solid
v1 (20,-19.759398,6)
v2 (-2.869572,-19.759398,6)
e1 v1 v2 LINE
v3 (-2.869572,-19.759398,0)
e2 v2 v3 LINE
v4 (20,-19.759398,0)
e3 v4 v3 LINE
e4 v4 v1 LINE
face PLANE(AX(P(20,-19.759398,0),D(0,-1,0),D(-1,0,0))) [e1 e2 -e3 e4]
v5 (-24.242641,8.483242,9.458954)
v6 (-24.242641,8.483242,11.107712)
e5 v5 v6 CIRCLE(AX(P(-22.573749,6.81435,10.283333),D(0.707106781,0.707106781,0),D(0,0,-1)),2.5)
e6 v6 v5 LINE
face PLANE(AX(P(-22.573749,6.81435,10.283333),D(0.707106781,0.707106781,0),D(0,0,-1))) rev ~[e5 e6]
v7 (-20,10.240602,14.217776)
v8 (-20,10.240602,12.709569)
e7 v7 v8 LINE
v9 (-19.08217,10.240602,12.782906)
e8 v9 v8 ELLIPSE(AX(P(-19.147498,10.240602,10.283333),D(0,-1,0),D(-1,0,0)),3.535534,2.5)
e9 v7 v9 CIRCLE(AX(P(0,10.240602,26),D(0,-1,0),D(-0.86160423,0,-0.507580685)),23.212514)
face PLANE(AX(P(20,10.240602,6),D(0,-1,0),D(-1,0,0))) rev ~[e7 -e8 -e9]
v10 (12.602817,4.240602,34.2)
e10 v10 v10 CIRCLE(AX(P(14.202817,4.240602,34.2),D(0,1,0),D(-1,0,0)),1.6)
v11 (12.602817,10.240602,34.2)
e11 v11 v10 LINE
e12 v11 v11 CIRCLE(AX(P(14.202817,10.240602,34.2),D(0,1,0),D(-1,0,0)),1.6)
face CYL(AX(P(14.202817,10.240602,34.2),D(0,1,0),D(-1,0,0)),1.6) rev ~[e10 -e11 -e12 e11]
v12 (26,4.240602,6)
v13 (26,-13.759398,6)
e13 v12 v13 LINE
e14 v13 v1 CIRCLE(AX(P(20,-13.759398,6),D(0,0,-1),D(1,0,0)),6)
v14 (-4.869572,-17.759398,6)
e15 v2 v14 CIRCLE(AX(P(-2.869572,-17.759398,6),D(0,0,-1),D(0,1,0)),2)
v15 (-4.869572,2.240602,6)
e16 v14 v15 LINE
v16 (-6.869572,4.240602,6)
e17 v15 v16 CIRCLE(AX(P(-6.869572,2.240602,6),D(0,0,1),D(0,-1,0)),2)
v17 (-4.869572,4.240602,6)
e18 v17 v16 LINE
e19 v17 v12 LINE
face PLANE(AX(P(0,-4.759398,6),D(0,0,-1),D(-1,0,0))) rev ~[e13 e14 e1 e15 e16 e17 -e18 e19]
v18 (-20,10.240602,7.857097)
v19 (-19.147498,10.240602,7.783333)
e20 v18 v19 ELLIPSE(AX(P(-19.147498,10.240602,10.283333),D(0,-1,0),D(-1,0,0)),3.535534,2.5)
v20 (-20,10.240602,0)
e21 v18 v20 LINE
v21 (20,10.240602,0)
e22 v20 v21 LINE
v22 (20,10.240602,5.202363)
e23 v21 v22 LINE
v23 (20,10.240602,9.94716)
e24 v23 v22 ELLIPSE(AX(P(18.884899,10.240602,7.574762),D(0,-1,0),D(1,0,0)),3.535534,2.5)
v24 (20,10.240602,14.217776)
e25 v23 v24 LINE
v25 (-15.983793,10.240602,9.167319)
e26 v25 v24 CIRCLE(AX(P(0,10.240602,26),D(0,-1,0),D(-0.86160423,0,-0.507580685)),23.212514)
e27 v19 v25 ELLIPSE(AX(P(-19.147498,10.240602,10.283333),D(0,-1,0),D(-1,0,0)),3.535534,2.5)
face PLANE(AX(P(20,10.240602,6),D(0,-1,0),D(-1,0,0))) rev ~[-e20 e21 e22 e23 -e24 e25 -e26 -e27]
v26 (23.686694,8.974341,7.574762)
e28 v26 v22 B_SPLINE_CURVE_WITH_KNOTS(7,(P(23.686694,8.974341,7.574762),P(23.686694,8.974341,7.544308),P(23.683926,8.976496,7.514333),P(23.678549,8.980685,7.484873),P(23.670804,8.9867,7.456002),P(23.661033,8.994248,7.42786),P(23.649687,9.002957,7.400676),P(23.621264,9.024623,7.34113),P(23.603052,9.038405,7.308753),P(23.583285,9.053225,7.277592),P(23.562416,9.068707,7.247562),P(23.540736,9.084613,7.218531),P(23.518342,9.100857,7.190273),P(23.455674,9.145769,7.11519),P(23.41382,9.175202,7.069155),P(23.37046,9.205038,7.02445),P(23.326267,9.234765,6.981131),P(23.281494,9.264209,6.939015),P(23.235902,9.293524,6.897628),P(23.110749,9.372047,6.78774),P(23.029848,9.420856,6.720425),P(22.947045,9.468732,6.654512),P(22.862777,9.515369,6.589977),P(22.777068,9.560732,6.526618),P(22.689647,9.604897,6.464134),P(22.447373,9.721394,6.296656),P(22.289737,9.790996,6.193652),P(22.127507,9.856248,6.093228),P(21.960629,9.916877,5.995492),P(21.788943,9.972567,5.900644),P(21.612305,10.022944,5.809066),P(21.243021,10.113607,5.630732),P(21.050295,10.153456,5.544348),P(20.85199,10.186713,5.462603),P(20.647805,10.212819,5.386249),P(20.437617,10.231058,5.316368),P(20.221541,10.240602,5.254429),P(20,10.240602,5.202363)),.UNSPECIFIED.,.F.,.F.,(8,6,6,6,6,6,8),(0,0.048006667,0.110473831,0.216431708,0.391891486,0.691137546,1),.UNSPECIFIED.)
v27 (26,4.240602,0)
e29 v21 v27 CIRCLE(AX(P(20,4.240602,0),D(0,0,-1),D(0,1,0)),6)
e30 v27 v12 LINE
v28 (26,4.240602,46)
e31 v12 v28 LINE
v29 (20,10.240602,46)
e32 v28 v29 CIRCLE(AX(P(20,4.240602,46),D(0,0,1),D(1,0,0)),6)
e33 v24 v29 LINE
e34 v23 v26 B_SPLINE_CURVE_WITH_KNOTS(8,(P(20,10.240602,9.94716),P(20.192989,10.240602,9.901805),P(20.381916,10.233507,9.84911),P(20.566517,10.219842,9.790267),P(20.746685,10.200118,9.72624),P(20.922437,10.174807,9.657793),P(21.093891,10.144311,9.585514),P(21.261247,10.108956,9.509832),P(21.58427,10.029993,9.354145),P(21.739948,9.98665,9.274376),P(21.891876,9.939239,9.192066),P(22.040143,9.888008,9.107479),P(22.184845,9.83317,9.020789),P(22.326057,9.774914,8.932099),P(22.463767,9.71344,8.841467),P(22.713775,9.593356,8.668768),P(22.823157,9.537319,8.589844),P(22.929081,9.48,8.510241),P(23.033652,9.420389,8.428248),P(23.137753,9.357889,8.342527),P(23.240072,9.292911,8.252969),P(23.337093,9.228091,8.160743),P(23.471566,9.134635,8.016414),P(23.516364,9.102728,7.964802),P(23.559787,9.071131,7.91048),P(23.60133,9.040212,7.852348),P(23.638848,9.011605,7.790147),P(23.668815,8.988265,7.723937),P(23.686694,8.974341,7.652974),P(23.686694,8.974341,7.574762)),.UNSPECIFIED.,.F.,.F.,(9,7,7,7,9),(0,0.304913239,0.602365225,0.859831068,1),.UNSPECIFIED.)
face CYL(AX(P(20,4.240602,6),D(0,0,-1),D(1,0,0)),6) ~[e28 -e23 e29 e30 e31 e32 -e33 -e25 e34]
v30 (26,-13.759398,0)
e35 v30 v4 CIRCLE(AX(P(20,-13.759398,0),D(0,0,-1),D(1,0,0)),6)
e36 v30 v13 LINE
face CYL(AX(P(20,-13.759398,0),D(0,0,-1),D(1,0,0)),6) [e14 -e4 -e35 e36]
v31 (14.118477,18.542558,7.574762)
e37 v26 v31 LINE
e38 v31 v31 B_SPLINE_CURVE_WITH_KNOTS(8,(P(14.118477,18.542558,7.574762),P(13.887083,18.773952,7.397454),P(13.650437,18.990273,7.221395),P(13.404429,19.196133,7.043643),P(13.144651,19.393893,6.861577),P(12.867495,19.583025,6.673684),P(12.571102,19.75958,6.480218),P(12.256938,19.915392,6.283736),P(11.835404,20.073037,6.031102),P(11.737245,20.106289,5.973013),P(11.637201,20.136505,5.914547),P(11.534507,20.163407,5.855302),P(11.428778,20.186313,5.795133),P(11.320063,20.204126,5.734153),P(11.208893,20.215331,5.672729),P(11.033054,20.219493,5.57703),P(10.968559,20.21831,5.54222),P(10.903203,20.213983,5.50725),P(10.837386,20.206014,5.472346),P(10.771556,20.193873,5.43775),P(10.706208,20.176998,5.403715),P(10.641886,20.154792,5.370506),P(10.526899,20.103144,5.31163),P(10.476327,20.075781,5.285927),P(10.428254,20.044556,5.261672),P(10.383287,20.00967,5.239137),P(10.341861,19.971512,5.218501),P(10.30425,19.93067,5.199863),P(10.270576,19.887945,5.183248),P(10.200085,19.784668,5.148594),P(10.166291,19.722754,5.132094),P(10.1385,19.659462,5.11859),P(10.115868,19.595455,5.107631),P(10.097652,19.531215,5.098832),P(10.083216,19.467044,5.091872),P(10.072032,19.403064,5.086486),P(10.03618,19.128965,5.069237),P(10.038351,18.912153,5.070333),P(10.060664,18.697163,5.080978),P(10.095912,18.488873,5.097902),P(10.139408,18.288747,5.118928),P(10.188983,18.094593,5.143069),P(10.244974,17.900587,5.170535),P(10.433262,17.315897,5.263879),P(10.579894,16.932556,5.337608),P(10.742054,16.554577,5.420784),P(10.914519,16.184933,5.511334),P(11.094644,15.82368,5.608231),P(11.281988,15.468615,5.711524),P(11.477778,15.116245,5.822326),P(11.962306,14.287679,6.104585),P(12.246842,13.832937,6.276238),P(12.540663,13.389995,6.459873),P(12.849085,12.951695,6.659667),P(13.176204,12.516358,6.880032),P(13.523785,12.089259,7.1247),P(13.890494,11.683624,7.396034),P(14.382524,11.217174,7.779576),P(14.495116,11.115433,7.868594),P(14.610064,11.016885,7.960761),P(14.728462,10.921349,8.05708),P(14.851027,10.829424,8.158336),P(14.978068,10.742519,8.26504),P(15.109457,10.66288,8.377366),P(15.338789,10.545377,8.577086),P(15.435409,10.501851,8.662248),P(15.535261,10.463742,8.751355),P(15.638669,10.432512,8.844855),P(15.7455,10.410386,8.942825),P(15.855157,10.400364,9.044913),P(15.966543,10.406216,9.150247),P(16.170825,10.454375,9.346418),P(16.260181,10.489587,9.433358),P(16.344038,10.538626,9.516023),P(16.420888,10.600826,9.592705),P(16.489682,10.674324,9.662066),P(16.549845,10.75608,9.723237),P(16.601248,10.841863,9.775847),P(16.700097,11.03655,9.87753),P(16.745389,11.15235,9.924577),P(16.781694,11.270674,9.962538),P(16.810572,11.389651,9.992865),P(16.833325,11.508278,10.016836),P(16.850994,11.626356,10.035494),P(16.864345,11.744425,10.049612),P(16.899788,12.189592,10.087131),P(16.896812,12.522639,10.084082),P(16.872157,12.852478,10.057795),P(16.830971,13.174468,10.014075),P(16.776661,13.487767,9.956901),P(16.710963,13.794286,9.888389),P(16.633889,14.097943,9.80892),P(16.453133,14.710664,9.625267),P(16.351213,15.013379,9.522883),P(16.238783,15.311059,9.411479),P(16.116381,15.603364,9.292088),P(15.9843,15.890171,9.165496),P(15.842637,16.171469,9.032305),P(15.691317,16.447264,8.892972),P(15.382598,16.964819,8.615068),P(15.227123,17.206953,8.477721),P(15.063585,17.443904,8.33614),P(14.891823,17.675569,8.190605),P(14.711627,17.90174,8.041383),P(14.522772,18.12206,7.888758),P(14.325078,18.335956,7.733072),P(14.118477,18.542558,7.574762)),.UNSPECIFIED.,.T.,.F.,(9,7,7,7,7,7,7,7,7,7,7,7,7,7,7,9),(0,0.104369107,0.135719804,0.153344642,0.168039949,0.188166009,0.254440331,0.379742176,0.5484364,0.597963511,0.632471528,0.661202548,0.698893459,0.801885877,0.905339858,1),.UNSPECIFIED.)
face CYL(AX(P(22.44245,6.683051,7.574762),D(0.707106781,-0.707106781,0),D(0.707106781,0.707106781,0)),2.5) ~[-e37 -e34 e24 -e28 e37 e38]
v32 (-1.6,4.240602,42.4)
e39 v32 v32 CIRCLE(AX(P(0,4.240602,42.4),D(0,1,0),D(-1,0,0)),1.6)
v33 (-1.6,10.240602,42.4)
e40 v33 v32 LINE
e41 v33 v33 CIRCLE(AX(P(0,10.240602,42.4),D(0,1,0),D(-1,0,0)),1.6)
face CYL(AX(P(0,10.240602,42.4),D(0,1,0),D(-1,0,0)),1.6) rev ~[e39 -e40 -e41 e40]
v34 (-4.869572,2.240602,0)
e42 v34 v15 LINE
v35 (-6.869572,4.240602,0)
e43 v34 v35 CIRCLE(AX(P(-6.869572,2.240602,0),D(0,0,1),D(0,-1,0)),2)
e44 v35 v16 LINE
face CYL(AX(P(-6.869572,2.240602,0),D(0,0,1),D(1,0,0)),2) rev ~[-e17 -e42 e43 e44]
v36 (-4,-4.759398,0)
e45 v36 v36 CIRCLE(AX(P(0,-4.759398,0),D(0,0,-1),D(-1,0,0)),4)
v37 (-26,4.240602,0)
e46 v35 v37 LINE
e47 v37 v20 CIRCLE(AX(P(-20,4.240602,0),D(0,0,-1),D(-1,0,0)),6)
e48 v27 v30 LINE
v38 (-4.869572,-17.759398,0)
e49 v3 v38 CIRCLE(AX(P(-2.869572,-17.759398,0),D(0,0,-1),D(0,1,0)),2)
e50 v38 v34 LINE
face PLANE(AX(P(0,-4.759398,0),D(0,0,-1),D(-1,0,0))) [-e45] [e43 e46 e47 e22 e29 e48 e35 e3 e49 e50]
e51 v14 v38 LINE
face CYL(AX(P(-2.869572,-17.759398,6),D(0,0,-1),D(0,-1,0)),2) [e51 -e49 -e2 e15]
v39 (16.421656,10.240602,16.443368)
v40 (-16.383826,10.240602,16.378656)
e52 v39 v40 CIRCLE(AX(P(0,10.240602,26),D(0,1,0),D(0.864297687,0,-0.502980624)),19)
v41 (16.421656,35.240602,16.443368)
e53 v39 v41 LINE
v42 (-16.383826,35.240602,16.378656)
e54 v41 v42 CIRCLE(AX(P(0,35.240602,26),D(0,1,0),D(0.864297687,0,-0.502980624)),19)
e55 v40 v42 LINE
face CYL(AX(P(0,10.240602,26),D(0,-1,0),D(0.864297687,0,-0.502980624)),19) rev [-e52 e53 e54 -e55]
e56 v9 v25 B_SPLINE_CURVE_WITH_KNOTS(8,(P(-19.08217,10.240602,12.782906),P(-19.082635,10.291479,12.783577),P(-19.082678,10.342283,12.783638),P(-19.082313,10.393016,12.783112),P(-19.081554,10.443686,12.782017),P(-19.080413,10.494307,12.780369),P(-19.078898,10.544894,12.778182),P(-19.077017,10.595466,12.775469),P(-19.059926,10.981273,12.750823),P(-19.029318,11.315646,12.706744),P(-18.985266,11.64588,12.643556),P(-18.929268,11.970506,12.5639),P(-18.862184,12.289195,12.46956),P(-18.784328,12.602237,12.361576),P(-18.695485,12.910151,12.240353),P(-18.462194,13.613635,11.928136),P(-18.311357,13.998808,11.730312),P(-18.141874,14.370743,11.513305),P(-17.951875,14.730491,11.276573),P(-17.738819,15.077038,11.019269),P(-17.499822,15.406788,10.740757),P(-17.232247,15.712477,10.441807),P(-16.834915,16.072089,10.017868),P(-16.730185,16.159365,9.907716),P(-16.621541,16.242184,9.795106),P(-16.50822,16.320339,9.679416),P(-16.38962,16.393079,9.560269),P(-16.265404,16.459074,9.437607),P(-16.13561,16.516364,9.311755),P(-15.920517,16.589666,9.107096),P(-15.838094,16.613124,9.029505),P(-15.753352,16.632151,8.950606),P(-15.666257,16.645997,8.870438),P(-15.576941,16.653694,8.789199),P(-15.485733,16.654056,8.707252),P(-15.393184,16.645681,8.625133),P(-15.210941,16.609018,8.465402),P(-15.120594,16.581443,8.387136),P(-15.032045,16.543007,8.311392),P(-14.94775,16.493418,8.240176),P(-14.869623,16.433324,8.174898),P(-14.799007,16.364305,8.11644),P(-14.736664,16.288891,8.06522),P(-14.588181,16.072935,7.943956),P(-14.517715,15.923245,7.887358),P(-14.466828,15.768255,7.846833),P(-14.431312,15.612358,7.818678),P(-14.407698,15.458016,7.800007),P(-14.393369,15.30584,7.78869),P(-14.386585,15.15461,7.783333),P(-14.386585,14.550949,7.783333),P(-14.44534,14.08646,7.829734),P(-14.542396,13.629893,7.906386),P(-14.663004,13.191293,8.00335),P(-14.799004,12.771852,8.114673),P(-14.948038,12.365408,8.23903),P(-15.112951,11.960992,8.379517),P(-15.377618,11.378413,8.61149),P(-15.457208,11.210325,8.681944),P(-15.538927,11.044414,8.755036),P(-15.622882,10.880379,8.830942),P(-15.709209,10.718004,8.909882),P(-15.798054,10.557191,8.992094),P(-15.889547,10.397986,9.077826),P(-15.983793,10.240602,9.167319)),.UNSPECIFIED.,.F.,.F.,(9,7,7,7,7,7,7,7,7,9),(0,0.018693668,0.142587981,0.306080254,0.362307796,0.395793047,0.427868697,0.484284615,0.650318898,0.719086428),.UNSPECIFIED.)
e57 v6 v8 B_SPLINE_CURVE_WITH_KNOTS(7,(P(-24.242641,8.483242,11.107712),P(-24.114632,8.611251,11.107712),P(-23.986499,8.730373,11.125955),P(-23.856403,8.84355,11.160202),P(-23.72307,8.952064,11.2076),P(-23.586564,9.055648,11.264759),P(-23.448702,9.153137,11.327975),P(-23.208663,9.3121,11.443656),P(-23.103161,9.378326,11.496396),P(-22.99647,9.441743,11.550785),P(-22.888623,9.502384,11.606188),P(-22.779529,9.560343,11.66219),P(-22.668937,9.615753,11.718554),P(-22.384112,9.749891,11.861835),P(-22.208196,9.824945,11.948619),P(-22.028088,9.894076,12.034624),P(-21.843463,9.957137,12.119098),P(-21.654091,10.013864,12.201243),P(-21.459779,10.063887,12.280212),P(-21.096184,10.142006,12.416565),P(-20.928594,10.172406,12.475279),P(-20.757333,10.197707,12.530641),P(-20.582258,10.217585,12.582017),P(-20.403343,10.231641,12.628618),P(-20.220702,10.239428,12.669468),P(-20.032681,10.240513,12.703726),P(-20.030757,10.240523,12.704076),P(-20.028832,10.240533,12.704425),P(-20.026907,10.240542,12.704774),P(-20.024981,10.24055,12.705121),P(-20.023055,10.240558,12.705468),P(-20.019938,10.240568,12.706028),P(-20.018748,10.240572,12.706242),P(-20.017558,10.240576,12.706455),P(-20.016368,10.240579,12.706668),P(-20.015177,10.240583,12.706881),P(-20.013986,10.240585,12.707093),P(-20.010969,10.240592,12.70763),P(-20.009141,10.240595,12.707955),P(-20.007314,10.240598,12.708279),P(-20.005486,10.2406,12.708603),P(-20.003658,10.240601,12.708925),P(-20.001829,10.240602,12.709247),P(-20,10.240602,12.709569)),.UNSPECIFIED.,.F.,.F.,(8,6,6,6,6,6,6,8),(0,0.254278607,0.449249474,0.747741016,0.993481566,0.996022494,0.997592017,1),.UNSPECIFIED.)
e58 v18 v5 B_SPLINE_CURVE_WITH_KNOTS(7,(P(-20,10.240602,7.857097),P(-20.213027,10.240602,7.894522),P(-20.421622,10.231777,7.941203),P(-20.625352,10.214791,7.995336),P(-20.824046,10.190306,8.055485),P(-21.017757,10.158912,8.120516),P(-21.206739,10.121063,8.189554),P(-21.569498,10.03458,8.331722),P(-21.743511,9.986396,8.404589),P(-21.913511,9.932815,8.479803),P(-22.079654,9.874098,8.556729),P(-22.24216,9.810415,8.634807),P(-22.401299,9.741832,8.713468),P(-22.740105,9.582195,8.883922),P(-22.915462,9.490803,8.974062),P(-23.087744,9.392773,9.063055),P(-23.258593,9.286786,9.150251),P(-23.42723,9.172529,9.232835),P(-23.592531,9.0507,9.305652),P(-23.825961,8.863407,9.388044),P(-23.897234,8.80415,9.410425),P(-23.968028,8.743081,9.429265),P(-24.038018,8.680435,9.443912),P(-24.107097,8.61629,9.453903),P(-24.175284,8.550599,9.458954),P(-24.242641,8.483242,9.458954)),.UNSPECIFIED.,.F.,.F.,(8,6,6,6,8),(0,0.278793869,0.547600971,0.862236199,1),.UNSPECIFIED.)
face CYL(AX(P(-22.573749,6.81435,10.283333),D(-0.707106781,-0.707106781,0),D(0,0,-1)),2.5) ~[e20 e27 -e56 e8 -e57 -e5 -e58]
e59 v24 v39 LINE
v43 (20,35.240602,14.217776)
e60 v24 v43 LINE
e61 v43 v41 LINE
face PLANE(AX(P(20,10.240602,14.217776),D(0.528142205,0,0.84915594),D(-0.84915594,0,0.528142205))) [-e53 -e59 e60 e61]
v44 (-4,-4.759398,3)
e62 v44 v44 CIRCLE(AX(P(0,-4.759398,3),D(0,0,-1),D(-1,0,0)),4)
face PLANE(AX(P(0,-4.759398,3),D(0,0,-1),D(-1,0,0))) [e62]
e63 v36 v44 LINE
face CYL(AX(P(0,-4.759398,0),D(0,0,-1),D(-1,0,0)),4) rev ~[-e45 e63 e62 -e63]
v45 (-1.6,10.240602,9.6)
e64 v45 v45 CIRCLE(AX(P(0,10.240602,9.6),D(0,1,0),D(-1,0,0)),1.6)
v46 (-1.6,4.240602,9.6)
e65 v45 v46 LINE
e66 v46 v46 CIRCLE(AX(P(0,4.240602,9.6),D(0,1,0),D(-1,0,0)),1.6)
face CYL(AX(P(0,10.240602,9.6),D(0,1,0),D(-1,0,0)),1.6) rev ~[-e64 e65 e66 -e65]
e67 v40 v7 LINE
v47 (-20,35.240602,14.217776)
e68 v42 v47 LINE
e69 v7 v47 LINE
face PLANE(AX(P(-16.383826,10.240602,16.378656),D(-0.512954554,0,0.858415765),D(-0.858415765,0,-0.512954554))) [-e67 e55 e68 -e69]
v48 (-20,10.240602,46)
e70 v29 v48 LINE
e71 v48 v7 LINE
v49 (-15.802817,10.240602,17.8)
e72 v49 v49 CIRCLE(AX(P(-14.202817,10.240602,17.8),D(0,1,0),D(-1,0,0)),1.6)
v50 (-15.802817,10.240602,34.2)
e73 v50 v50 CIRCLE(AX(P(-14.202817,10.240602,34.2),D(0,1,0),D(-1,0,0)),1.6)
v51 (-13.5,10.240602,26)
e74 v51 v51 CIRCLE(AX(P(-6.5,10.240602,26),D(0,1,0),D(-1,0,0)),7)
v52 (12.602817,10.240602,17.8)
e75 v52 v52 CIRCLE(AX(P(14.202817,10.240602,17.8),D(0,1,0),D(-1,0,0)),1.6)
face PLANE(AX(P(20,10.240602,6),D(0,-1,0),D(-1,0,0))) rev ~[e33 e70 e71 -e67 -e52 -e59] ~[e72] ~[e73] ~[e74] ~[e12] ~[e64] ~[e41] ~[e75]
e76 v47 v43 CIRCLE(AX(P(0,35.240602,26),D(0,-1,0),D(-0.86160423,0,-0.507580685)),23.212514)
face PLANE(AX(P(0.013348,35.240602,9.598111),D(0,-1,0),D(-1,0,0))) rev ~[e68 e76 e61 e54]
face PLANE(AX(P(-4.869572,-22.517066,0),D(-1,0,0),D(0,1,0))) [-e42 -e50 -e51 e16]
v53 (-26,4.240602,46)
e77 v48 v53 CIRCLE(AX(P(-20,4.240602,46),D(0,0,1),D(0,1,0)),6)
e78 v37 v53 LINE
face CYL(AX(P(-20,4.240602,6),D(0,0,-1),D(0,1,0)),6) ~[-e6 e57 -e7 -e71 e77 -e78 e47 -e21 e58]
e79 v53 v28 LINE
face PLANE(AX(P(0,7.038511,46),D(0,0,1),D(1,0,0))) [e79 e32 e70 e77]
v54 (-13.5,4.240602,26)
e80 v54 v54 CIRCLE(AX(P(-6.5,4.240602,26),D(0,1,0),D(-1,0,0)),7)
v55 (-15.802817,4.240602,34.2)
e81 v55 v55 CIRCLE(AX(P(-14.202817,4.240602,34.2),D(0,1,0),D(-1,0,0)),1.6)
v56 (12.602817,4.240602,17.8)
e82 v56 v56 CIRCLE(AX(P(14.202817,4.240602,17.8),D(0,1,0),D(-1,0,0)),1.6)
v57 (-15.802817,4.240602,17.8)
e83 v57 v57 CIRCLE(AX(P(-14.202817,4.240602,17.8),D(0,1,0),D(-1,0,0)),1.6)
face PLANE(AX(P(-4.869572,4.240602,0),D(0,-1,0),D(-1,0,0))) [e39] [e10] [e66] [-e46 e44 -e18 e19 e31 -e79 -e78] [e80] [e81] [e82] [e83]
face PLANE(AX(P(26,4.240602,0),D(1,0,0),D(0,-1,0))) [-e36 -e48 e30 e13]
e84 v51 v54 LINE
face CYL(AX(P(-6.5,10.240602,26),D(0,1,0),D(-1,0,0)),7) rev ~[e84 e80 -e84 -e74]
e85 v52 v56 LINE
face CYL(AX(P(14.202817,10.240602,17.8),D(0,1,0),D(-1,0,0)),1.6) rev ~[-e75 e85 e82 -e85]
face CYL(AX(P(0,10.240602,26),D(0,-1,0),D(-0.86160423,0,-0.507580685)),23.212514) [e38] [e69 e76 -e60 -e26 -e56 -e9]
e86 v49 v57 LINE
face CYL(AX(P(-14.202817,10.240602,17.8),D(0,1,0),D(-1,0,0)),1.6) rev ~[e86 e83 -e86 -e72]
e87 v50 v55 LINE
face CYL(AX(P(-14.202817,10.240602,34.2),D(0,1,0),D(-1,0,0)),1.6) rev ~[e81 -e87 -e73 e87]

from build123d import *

# Parameters (mm, degrees)
BOSS_EXTRUDE1_DEPTH      = 6
BOSS_EXTRUDE2_DEPTH      = 40
CUT_EXTRUDE1_REACH       = 62.762
SKETCH9_R                = 1.6
CUT_EXTRUDE2_REACH       = 62.762
SKETCH10_R               = 7
BOSS_EXTRUDE4_DEPTH      = 25
BOSS_EXTRUDE5_REACH      = 73.576
SKETCH12_R               = 2.5
BOSS_EXTRUDE6_REACH      = 73.576
BOSS_EXTRUDE6_END_RADIUS = 23.21251372
SKETCH14_R               = 2.5
SKETCH17_W               = 26.966711831
SKETCH17_H               = 26.757667553
CUT_EXTRUDE4_DEPTH       = 6
FILLET1_R                = 2
SKETCH7_R                = 4
CUT_EXTRUDE5_DEPTH       = 3


with BuildPart() as part:
    # Sketch3 → Boss-Extrude1 (new body)
    with BuildSketch(Plane.XY):
        with BuildLine():
            Line((-20, 10.240601504), (20, 10.240601504))
            ThreePointArc((20, 10.240601504), (24.242640687, 8.483242191), (26, 4.240601504))
            Line((26, 4.240601504), (26, -13.759398496))
            ThreePointArc((26, -13.759398496), (24.242640687, -18.002039183), (20, -19.759398496))
            Line((20, -19.759398496), (-20, -19.759398496))
            ThreePointArc((-20, -19.759398496), (-24.242640687, -18.002039183), (-26, -13.759398496))
            Line((-26, -13.759398496), (-26, 4.240601504))
            ThreePointArc((-26, 4.240601504), (-24.242640687, 8.483242191), (-20, 10.240601504))
        make_face()
    extrude(amount=BOSS_EXTRUDE1_DEPTH)

    # Sketch4 → Boss-Extrude2 (add)
    with BuildSketch(Plane.XY.offset(6)):
        with BuildLine():
            Line((-26, 4.240601504), (26, 4.240601504))
            ThreePointArc((26, 4.240601504), (24.242640687, 8.483242191), (20, 10.240601504))
            Line((20, 10.240601504), (-20, 10.240601504))
            ThreePointArc((-20, 10.240601504), (-24.242640687, 8.483242191), (-26, 4.240601504))
        make_face()
    extrude(amount=BOSS_EXTRUDE2_DEPTH)

    # Sketch9 → Cut-Extrude1 (cut, up to next)
    with BuildSketch(Plane(origin=(0, 10.240601504, 0), x_dir=(1, 0, 0), z_dir=(0, 1, 0)), mode=Mode.PRIVATE) as cut_extrude1_sk1:
        with Locations(Location((0, -42.4, 0), (0, 0, 180))):
            Circle(SKETCH9_R)
    cut_extrude1_tool1 = extrude(cut_extrude1_sk1.sketch, amount=-CUT_EXTRUDE1_REACH, mode=Mode.PRIVATE) & part.part
    # Sketch9 → Cut-Extrude1 (cut, up to next)
    with BuildSketch(Plane(origin=(0, 10.240601504, 0), x_dir=(1, 0, 0), z_dir=(0, 1, 0)), mode=Mode.PRIVATE) as cut_extrude1_sk2:
        with Locations(Location((14.202816622, -34.2, 0), (0, 0, 180))):
            Circle(SKETCH9_R)
    cut_extrude1_tool2 = extrude(cut_extrude1_sk2.sketch, amount=-CUT_EXTRUDE1_REACH, mode=Mode.PRIVATE) & part.part
    # Sketch9 → Cut-Extrude1 (cut, up to next)
    with BuildSketch(Plane(origin=(0, 10.240601504, 0), x_dir=(1, 0, 0), z_dir=(0, 1, 0)), mode=Mode.PRIVATE) as cut_extrude1_sk3:
        with Locations(Location((-14.202816622, -34.2, 0), (0, 0, 180))):
            Circle(SKETCH9_R)
    cut_extrude1_tool3 = extrude(cut_extrude1_sk3.sketch, amount=-CUT_EXTRUDE1_REACH, mode=Mode.PRIVATE) & part.part
    # Sketch9 → Cut-Extrude1 (cut, up to next)
    with BuildSketch(Plane(origin=(0, 10.240601504, 0), x_dir=(1, 0, 0), z_dir=(0, 1, 0)), mode=Mode.PRIVATE) as cut_extrude1_sk4:
        with Locations(Location((-14.202816622, -17.8, 0), (0, 0, 180))):
            Circle(SKETCH9_R)
    cut_extrude1_tool4 = extrude(cut_extrude1_sk4.sketch, amount=-CUT_EXTRUDE1_REACH, mode=Mode.PRIVATE) & part.part
    # Sketch9 → Cut-Extrude1 (cut, up to next)
    with BuildSketch(Plane(origin=(0, 10.240601504, 0), x_dir=(1, 0, 0), z_dir=(0, 1, 0)), mode=Mode.PRIVATE) as cut_extrude1_sk5:
        with Locations(Location((0, -9.6, 0), (0, 0, 180))):
            Circle(SKETCH9_R)
    cut_extrude1_tool5 = extrude(cut_extrude1_sk5.sketch, amount=-CUT_EXTRUDE1_REACH, mode=Mode.PRIVATE) & part.part
    # Sketch9 → Cut-Extrude1 (cut, up to next)
    with BuildSketch(Plane(origin=(0, 10.240601504, 0), x_dir=(1, 0, 0), z_dir=(0, 1, 0)), mode=Mode.PRIVATE) as cut_extrude1_sk6:
        with Locations(Location((14.202816622, -17.8, 0), (0, 0, 180))):
            Circle(SKETCH9_R)
    cut_extrude1_tool6 = extrude(cut_extrude1_sk6.sketch, amount=-CUT_EXTRUDE1_REACH, mode=Mode.PRIVATE) & part.part
    add(cut_extrude1_tool1.solids().sort_by_distance((0, 10.240602, 42.4))[0], mode=Mode.SUBTRACT)
    add(cut_extrude1_tool2.solids().sort_by_distance((14.202817, 10.240602, 34.2))[0], mode=Mode.SUBTRACT)
    add(cut_extrude1_tool3.solids().sort_by_distance((-14.202817, 10.240602, 34.2))[0], mode=Mode.SUBTRACT)
    add(cut_extrude1_tool4.solids().sort_by_distance((-14.202817, 10.240602, 17.8))[0], mode=Mode.SUBTRACT)
    add(cut_extrude1_tool5.solids().sort_by_distance((0, 10.240602, 9.6))[0], mode=Mode.SUBTRACT)
    add(cut_extrude1_tool6.solids().sort_by_distance((14.202817, 10.240602, 17.8))[0], mode=Mode.SUBTRACT)

    # Sketch10 → Cut-Extrude2 (cut, up to next)
    with BuildSketch(Plane(origin=(0, 10.240601504, 0), x_dir=(1, 0, 0), z_dir=(0, 1, 0)), mode=Mode.PRIVATE) as cut_extrude2_sk1:
        with Locations(Location((-6.5, -26, 0), (0, 0, 180))):
            Circle(SKETCH10_R)
    cut_extrude2_tool1 = extrude(cut_extrude2_sk1.sketch, amount=-CUT_EXTRUDE2_REACH, mode=Mode.PRIVATE) & part.part
    add(cut_extrude2_tool1.solids().sort_by_distance((-6.5, 10.240602, 26))[0], mode=Mode.SUBTRACT)

    # Sketch11 → Boss-Extrude4 (add)
    with BuildSketch(Plane(origin=(0, 10.240601504, 0), x_dir=(1, 0, 0), z_dir=(0, 1, 0))):
        with BuildLine():
            Line((20, -14.217776389), (16.421656056, -16.443368147))
            ThreePointArc((16.421656056, -16.443368147), (0.037479345, -7.000036966), (-16.383825563, -16.378656023))
            Line((-16.383825563, -16.378656023), (-20, -14.217776389))
            ThreePointArc((-20, -14.217776389), (0, -2.78748628), (20, -14.217776389))
        make_face()
    extrude(amount=BOSS_EXTRUDE4_DEPTH)

    # Sketch12 → Boss-Extrude5 (add, up to next)
    with BuildSketch(Plane(origin=(7.879699248, -7.879699248, 0), x_dir=(0, 0, 1), z_dir=(-0.7071067811865489, 0.7071067811865462, 0)), mode=Mode.PRIVATE) as boss_extrude5_sk1:
        with Locations(Location((7.574761701, 20.594839086, 0), (0, 0, 90))):
            Circle(SKETCH12_R)
    boss_extrude5_tool1 = extrude(boss_extrude5_sk1.sketch, amount=BOSS_EXTRUDE5_REACH, mode=Mode.PRIVATE) - part.part
    add(boss_extrude5_tool1.solids().sort_by_distance((22.44245, 6.683051, 7.574762))[0])

    # Boss-Extrude6: up to this cylinder (the profile starts outside it)
    boss_extrude6_end = Plane(origin=(0, 6.81435, 26), z_dir=(0, -1, 0)) * Cylinder(BOSS_EXTRUDE6_END_RADIUS, 194.57702744, mode=Mode.PRIVATE)
    # Sketch14 → Boss-Extrude6 (add, up to the surface)
    with BuildSketch(Plane(origin=(-7.879699248, -7.879699248, 0), x_dir=(0, 0, -1), z_dir=(0.7071067811865487, 0.7071067811865465, 0)), mode=Mode.PRIVATE) as boss_extrude6_sk1:
        with Locations((-10.283332747, 20.780524406)):
            Circle(SKETCH14_R)
    boss_extrude6_tool1 = extrude(boss_extrude6_sk1.sketch, amount=BOSS_EXTRUDE6_REACH, mode=Mode.PRIVATE) - boss_extrude6_end
    add(boss_extrude6_tool1.solids().sort_by_distance((-22.573749, 6.81435, 10.283333))[0])

    # Sketch17 → Cut-Extrude4 (cut)
    with BuildSketch(Plane(origin=(0, 0, 0), x_dir=(-1, 0, 0), z_dir=(0, 0, -1))):
        with Locations((18.352928334, -9.138232272)):
            Rectangle(SKETCH17_W, SKETCH17_H)
    extrude(amount=-CUT_EXTRUDE4_DEPTH, mode=Mode.SUBTRACT)

    # Fillet1
    fillet1_edges = [part.edges().sort_by_distance(p)[0] for p in [
        (-4.869572418, -19.759398496, 3),
        (-4.869572418, 4.240601504, 3),
    ]]
    fillet(fillet1_edges, radius=FILLET1_R)

    # Sketch7 → Cut-Extrude5 (cut)
    with BuildSketch(Plane(origin=(0, 0, 0), x_dir=(-1, 0, 0), z_dir=(0, 0, -1))):
        with Locations((0, -4.759398496)):
            Circle(SKETCH7_R)
    extrude(amount=-CUT_EXTRUDE5_DEPTH, mode=Mode.SUBTRACT)


solid = part.part
